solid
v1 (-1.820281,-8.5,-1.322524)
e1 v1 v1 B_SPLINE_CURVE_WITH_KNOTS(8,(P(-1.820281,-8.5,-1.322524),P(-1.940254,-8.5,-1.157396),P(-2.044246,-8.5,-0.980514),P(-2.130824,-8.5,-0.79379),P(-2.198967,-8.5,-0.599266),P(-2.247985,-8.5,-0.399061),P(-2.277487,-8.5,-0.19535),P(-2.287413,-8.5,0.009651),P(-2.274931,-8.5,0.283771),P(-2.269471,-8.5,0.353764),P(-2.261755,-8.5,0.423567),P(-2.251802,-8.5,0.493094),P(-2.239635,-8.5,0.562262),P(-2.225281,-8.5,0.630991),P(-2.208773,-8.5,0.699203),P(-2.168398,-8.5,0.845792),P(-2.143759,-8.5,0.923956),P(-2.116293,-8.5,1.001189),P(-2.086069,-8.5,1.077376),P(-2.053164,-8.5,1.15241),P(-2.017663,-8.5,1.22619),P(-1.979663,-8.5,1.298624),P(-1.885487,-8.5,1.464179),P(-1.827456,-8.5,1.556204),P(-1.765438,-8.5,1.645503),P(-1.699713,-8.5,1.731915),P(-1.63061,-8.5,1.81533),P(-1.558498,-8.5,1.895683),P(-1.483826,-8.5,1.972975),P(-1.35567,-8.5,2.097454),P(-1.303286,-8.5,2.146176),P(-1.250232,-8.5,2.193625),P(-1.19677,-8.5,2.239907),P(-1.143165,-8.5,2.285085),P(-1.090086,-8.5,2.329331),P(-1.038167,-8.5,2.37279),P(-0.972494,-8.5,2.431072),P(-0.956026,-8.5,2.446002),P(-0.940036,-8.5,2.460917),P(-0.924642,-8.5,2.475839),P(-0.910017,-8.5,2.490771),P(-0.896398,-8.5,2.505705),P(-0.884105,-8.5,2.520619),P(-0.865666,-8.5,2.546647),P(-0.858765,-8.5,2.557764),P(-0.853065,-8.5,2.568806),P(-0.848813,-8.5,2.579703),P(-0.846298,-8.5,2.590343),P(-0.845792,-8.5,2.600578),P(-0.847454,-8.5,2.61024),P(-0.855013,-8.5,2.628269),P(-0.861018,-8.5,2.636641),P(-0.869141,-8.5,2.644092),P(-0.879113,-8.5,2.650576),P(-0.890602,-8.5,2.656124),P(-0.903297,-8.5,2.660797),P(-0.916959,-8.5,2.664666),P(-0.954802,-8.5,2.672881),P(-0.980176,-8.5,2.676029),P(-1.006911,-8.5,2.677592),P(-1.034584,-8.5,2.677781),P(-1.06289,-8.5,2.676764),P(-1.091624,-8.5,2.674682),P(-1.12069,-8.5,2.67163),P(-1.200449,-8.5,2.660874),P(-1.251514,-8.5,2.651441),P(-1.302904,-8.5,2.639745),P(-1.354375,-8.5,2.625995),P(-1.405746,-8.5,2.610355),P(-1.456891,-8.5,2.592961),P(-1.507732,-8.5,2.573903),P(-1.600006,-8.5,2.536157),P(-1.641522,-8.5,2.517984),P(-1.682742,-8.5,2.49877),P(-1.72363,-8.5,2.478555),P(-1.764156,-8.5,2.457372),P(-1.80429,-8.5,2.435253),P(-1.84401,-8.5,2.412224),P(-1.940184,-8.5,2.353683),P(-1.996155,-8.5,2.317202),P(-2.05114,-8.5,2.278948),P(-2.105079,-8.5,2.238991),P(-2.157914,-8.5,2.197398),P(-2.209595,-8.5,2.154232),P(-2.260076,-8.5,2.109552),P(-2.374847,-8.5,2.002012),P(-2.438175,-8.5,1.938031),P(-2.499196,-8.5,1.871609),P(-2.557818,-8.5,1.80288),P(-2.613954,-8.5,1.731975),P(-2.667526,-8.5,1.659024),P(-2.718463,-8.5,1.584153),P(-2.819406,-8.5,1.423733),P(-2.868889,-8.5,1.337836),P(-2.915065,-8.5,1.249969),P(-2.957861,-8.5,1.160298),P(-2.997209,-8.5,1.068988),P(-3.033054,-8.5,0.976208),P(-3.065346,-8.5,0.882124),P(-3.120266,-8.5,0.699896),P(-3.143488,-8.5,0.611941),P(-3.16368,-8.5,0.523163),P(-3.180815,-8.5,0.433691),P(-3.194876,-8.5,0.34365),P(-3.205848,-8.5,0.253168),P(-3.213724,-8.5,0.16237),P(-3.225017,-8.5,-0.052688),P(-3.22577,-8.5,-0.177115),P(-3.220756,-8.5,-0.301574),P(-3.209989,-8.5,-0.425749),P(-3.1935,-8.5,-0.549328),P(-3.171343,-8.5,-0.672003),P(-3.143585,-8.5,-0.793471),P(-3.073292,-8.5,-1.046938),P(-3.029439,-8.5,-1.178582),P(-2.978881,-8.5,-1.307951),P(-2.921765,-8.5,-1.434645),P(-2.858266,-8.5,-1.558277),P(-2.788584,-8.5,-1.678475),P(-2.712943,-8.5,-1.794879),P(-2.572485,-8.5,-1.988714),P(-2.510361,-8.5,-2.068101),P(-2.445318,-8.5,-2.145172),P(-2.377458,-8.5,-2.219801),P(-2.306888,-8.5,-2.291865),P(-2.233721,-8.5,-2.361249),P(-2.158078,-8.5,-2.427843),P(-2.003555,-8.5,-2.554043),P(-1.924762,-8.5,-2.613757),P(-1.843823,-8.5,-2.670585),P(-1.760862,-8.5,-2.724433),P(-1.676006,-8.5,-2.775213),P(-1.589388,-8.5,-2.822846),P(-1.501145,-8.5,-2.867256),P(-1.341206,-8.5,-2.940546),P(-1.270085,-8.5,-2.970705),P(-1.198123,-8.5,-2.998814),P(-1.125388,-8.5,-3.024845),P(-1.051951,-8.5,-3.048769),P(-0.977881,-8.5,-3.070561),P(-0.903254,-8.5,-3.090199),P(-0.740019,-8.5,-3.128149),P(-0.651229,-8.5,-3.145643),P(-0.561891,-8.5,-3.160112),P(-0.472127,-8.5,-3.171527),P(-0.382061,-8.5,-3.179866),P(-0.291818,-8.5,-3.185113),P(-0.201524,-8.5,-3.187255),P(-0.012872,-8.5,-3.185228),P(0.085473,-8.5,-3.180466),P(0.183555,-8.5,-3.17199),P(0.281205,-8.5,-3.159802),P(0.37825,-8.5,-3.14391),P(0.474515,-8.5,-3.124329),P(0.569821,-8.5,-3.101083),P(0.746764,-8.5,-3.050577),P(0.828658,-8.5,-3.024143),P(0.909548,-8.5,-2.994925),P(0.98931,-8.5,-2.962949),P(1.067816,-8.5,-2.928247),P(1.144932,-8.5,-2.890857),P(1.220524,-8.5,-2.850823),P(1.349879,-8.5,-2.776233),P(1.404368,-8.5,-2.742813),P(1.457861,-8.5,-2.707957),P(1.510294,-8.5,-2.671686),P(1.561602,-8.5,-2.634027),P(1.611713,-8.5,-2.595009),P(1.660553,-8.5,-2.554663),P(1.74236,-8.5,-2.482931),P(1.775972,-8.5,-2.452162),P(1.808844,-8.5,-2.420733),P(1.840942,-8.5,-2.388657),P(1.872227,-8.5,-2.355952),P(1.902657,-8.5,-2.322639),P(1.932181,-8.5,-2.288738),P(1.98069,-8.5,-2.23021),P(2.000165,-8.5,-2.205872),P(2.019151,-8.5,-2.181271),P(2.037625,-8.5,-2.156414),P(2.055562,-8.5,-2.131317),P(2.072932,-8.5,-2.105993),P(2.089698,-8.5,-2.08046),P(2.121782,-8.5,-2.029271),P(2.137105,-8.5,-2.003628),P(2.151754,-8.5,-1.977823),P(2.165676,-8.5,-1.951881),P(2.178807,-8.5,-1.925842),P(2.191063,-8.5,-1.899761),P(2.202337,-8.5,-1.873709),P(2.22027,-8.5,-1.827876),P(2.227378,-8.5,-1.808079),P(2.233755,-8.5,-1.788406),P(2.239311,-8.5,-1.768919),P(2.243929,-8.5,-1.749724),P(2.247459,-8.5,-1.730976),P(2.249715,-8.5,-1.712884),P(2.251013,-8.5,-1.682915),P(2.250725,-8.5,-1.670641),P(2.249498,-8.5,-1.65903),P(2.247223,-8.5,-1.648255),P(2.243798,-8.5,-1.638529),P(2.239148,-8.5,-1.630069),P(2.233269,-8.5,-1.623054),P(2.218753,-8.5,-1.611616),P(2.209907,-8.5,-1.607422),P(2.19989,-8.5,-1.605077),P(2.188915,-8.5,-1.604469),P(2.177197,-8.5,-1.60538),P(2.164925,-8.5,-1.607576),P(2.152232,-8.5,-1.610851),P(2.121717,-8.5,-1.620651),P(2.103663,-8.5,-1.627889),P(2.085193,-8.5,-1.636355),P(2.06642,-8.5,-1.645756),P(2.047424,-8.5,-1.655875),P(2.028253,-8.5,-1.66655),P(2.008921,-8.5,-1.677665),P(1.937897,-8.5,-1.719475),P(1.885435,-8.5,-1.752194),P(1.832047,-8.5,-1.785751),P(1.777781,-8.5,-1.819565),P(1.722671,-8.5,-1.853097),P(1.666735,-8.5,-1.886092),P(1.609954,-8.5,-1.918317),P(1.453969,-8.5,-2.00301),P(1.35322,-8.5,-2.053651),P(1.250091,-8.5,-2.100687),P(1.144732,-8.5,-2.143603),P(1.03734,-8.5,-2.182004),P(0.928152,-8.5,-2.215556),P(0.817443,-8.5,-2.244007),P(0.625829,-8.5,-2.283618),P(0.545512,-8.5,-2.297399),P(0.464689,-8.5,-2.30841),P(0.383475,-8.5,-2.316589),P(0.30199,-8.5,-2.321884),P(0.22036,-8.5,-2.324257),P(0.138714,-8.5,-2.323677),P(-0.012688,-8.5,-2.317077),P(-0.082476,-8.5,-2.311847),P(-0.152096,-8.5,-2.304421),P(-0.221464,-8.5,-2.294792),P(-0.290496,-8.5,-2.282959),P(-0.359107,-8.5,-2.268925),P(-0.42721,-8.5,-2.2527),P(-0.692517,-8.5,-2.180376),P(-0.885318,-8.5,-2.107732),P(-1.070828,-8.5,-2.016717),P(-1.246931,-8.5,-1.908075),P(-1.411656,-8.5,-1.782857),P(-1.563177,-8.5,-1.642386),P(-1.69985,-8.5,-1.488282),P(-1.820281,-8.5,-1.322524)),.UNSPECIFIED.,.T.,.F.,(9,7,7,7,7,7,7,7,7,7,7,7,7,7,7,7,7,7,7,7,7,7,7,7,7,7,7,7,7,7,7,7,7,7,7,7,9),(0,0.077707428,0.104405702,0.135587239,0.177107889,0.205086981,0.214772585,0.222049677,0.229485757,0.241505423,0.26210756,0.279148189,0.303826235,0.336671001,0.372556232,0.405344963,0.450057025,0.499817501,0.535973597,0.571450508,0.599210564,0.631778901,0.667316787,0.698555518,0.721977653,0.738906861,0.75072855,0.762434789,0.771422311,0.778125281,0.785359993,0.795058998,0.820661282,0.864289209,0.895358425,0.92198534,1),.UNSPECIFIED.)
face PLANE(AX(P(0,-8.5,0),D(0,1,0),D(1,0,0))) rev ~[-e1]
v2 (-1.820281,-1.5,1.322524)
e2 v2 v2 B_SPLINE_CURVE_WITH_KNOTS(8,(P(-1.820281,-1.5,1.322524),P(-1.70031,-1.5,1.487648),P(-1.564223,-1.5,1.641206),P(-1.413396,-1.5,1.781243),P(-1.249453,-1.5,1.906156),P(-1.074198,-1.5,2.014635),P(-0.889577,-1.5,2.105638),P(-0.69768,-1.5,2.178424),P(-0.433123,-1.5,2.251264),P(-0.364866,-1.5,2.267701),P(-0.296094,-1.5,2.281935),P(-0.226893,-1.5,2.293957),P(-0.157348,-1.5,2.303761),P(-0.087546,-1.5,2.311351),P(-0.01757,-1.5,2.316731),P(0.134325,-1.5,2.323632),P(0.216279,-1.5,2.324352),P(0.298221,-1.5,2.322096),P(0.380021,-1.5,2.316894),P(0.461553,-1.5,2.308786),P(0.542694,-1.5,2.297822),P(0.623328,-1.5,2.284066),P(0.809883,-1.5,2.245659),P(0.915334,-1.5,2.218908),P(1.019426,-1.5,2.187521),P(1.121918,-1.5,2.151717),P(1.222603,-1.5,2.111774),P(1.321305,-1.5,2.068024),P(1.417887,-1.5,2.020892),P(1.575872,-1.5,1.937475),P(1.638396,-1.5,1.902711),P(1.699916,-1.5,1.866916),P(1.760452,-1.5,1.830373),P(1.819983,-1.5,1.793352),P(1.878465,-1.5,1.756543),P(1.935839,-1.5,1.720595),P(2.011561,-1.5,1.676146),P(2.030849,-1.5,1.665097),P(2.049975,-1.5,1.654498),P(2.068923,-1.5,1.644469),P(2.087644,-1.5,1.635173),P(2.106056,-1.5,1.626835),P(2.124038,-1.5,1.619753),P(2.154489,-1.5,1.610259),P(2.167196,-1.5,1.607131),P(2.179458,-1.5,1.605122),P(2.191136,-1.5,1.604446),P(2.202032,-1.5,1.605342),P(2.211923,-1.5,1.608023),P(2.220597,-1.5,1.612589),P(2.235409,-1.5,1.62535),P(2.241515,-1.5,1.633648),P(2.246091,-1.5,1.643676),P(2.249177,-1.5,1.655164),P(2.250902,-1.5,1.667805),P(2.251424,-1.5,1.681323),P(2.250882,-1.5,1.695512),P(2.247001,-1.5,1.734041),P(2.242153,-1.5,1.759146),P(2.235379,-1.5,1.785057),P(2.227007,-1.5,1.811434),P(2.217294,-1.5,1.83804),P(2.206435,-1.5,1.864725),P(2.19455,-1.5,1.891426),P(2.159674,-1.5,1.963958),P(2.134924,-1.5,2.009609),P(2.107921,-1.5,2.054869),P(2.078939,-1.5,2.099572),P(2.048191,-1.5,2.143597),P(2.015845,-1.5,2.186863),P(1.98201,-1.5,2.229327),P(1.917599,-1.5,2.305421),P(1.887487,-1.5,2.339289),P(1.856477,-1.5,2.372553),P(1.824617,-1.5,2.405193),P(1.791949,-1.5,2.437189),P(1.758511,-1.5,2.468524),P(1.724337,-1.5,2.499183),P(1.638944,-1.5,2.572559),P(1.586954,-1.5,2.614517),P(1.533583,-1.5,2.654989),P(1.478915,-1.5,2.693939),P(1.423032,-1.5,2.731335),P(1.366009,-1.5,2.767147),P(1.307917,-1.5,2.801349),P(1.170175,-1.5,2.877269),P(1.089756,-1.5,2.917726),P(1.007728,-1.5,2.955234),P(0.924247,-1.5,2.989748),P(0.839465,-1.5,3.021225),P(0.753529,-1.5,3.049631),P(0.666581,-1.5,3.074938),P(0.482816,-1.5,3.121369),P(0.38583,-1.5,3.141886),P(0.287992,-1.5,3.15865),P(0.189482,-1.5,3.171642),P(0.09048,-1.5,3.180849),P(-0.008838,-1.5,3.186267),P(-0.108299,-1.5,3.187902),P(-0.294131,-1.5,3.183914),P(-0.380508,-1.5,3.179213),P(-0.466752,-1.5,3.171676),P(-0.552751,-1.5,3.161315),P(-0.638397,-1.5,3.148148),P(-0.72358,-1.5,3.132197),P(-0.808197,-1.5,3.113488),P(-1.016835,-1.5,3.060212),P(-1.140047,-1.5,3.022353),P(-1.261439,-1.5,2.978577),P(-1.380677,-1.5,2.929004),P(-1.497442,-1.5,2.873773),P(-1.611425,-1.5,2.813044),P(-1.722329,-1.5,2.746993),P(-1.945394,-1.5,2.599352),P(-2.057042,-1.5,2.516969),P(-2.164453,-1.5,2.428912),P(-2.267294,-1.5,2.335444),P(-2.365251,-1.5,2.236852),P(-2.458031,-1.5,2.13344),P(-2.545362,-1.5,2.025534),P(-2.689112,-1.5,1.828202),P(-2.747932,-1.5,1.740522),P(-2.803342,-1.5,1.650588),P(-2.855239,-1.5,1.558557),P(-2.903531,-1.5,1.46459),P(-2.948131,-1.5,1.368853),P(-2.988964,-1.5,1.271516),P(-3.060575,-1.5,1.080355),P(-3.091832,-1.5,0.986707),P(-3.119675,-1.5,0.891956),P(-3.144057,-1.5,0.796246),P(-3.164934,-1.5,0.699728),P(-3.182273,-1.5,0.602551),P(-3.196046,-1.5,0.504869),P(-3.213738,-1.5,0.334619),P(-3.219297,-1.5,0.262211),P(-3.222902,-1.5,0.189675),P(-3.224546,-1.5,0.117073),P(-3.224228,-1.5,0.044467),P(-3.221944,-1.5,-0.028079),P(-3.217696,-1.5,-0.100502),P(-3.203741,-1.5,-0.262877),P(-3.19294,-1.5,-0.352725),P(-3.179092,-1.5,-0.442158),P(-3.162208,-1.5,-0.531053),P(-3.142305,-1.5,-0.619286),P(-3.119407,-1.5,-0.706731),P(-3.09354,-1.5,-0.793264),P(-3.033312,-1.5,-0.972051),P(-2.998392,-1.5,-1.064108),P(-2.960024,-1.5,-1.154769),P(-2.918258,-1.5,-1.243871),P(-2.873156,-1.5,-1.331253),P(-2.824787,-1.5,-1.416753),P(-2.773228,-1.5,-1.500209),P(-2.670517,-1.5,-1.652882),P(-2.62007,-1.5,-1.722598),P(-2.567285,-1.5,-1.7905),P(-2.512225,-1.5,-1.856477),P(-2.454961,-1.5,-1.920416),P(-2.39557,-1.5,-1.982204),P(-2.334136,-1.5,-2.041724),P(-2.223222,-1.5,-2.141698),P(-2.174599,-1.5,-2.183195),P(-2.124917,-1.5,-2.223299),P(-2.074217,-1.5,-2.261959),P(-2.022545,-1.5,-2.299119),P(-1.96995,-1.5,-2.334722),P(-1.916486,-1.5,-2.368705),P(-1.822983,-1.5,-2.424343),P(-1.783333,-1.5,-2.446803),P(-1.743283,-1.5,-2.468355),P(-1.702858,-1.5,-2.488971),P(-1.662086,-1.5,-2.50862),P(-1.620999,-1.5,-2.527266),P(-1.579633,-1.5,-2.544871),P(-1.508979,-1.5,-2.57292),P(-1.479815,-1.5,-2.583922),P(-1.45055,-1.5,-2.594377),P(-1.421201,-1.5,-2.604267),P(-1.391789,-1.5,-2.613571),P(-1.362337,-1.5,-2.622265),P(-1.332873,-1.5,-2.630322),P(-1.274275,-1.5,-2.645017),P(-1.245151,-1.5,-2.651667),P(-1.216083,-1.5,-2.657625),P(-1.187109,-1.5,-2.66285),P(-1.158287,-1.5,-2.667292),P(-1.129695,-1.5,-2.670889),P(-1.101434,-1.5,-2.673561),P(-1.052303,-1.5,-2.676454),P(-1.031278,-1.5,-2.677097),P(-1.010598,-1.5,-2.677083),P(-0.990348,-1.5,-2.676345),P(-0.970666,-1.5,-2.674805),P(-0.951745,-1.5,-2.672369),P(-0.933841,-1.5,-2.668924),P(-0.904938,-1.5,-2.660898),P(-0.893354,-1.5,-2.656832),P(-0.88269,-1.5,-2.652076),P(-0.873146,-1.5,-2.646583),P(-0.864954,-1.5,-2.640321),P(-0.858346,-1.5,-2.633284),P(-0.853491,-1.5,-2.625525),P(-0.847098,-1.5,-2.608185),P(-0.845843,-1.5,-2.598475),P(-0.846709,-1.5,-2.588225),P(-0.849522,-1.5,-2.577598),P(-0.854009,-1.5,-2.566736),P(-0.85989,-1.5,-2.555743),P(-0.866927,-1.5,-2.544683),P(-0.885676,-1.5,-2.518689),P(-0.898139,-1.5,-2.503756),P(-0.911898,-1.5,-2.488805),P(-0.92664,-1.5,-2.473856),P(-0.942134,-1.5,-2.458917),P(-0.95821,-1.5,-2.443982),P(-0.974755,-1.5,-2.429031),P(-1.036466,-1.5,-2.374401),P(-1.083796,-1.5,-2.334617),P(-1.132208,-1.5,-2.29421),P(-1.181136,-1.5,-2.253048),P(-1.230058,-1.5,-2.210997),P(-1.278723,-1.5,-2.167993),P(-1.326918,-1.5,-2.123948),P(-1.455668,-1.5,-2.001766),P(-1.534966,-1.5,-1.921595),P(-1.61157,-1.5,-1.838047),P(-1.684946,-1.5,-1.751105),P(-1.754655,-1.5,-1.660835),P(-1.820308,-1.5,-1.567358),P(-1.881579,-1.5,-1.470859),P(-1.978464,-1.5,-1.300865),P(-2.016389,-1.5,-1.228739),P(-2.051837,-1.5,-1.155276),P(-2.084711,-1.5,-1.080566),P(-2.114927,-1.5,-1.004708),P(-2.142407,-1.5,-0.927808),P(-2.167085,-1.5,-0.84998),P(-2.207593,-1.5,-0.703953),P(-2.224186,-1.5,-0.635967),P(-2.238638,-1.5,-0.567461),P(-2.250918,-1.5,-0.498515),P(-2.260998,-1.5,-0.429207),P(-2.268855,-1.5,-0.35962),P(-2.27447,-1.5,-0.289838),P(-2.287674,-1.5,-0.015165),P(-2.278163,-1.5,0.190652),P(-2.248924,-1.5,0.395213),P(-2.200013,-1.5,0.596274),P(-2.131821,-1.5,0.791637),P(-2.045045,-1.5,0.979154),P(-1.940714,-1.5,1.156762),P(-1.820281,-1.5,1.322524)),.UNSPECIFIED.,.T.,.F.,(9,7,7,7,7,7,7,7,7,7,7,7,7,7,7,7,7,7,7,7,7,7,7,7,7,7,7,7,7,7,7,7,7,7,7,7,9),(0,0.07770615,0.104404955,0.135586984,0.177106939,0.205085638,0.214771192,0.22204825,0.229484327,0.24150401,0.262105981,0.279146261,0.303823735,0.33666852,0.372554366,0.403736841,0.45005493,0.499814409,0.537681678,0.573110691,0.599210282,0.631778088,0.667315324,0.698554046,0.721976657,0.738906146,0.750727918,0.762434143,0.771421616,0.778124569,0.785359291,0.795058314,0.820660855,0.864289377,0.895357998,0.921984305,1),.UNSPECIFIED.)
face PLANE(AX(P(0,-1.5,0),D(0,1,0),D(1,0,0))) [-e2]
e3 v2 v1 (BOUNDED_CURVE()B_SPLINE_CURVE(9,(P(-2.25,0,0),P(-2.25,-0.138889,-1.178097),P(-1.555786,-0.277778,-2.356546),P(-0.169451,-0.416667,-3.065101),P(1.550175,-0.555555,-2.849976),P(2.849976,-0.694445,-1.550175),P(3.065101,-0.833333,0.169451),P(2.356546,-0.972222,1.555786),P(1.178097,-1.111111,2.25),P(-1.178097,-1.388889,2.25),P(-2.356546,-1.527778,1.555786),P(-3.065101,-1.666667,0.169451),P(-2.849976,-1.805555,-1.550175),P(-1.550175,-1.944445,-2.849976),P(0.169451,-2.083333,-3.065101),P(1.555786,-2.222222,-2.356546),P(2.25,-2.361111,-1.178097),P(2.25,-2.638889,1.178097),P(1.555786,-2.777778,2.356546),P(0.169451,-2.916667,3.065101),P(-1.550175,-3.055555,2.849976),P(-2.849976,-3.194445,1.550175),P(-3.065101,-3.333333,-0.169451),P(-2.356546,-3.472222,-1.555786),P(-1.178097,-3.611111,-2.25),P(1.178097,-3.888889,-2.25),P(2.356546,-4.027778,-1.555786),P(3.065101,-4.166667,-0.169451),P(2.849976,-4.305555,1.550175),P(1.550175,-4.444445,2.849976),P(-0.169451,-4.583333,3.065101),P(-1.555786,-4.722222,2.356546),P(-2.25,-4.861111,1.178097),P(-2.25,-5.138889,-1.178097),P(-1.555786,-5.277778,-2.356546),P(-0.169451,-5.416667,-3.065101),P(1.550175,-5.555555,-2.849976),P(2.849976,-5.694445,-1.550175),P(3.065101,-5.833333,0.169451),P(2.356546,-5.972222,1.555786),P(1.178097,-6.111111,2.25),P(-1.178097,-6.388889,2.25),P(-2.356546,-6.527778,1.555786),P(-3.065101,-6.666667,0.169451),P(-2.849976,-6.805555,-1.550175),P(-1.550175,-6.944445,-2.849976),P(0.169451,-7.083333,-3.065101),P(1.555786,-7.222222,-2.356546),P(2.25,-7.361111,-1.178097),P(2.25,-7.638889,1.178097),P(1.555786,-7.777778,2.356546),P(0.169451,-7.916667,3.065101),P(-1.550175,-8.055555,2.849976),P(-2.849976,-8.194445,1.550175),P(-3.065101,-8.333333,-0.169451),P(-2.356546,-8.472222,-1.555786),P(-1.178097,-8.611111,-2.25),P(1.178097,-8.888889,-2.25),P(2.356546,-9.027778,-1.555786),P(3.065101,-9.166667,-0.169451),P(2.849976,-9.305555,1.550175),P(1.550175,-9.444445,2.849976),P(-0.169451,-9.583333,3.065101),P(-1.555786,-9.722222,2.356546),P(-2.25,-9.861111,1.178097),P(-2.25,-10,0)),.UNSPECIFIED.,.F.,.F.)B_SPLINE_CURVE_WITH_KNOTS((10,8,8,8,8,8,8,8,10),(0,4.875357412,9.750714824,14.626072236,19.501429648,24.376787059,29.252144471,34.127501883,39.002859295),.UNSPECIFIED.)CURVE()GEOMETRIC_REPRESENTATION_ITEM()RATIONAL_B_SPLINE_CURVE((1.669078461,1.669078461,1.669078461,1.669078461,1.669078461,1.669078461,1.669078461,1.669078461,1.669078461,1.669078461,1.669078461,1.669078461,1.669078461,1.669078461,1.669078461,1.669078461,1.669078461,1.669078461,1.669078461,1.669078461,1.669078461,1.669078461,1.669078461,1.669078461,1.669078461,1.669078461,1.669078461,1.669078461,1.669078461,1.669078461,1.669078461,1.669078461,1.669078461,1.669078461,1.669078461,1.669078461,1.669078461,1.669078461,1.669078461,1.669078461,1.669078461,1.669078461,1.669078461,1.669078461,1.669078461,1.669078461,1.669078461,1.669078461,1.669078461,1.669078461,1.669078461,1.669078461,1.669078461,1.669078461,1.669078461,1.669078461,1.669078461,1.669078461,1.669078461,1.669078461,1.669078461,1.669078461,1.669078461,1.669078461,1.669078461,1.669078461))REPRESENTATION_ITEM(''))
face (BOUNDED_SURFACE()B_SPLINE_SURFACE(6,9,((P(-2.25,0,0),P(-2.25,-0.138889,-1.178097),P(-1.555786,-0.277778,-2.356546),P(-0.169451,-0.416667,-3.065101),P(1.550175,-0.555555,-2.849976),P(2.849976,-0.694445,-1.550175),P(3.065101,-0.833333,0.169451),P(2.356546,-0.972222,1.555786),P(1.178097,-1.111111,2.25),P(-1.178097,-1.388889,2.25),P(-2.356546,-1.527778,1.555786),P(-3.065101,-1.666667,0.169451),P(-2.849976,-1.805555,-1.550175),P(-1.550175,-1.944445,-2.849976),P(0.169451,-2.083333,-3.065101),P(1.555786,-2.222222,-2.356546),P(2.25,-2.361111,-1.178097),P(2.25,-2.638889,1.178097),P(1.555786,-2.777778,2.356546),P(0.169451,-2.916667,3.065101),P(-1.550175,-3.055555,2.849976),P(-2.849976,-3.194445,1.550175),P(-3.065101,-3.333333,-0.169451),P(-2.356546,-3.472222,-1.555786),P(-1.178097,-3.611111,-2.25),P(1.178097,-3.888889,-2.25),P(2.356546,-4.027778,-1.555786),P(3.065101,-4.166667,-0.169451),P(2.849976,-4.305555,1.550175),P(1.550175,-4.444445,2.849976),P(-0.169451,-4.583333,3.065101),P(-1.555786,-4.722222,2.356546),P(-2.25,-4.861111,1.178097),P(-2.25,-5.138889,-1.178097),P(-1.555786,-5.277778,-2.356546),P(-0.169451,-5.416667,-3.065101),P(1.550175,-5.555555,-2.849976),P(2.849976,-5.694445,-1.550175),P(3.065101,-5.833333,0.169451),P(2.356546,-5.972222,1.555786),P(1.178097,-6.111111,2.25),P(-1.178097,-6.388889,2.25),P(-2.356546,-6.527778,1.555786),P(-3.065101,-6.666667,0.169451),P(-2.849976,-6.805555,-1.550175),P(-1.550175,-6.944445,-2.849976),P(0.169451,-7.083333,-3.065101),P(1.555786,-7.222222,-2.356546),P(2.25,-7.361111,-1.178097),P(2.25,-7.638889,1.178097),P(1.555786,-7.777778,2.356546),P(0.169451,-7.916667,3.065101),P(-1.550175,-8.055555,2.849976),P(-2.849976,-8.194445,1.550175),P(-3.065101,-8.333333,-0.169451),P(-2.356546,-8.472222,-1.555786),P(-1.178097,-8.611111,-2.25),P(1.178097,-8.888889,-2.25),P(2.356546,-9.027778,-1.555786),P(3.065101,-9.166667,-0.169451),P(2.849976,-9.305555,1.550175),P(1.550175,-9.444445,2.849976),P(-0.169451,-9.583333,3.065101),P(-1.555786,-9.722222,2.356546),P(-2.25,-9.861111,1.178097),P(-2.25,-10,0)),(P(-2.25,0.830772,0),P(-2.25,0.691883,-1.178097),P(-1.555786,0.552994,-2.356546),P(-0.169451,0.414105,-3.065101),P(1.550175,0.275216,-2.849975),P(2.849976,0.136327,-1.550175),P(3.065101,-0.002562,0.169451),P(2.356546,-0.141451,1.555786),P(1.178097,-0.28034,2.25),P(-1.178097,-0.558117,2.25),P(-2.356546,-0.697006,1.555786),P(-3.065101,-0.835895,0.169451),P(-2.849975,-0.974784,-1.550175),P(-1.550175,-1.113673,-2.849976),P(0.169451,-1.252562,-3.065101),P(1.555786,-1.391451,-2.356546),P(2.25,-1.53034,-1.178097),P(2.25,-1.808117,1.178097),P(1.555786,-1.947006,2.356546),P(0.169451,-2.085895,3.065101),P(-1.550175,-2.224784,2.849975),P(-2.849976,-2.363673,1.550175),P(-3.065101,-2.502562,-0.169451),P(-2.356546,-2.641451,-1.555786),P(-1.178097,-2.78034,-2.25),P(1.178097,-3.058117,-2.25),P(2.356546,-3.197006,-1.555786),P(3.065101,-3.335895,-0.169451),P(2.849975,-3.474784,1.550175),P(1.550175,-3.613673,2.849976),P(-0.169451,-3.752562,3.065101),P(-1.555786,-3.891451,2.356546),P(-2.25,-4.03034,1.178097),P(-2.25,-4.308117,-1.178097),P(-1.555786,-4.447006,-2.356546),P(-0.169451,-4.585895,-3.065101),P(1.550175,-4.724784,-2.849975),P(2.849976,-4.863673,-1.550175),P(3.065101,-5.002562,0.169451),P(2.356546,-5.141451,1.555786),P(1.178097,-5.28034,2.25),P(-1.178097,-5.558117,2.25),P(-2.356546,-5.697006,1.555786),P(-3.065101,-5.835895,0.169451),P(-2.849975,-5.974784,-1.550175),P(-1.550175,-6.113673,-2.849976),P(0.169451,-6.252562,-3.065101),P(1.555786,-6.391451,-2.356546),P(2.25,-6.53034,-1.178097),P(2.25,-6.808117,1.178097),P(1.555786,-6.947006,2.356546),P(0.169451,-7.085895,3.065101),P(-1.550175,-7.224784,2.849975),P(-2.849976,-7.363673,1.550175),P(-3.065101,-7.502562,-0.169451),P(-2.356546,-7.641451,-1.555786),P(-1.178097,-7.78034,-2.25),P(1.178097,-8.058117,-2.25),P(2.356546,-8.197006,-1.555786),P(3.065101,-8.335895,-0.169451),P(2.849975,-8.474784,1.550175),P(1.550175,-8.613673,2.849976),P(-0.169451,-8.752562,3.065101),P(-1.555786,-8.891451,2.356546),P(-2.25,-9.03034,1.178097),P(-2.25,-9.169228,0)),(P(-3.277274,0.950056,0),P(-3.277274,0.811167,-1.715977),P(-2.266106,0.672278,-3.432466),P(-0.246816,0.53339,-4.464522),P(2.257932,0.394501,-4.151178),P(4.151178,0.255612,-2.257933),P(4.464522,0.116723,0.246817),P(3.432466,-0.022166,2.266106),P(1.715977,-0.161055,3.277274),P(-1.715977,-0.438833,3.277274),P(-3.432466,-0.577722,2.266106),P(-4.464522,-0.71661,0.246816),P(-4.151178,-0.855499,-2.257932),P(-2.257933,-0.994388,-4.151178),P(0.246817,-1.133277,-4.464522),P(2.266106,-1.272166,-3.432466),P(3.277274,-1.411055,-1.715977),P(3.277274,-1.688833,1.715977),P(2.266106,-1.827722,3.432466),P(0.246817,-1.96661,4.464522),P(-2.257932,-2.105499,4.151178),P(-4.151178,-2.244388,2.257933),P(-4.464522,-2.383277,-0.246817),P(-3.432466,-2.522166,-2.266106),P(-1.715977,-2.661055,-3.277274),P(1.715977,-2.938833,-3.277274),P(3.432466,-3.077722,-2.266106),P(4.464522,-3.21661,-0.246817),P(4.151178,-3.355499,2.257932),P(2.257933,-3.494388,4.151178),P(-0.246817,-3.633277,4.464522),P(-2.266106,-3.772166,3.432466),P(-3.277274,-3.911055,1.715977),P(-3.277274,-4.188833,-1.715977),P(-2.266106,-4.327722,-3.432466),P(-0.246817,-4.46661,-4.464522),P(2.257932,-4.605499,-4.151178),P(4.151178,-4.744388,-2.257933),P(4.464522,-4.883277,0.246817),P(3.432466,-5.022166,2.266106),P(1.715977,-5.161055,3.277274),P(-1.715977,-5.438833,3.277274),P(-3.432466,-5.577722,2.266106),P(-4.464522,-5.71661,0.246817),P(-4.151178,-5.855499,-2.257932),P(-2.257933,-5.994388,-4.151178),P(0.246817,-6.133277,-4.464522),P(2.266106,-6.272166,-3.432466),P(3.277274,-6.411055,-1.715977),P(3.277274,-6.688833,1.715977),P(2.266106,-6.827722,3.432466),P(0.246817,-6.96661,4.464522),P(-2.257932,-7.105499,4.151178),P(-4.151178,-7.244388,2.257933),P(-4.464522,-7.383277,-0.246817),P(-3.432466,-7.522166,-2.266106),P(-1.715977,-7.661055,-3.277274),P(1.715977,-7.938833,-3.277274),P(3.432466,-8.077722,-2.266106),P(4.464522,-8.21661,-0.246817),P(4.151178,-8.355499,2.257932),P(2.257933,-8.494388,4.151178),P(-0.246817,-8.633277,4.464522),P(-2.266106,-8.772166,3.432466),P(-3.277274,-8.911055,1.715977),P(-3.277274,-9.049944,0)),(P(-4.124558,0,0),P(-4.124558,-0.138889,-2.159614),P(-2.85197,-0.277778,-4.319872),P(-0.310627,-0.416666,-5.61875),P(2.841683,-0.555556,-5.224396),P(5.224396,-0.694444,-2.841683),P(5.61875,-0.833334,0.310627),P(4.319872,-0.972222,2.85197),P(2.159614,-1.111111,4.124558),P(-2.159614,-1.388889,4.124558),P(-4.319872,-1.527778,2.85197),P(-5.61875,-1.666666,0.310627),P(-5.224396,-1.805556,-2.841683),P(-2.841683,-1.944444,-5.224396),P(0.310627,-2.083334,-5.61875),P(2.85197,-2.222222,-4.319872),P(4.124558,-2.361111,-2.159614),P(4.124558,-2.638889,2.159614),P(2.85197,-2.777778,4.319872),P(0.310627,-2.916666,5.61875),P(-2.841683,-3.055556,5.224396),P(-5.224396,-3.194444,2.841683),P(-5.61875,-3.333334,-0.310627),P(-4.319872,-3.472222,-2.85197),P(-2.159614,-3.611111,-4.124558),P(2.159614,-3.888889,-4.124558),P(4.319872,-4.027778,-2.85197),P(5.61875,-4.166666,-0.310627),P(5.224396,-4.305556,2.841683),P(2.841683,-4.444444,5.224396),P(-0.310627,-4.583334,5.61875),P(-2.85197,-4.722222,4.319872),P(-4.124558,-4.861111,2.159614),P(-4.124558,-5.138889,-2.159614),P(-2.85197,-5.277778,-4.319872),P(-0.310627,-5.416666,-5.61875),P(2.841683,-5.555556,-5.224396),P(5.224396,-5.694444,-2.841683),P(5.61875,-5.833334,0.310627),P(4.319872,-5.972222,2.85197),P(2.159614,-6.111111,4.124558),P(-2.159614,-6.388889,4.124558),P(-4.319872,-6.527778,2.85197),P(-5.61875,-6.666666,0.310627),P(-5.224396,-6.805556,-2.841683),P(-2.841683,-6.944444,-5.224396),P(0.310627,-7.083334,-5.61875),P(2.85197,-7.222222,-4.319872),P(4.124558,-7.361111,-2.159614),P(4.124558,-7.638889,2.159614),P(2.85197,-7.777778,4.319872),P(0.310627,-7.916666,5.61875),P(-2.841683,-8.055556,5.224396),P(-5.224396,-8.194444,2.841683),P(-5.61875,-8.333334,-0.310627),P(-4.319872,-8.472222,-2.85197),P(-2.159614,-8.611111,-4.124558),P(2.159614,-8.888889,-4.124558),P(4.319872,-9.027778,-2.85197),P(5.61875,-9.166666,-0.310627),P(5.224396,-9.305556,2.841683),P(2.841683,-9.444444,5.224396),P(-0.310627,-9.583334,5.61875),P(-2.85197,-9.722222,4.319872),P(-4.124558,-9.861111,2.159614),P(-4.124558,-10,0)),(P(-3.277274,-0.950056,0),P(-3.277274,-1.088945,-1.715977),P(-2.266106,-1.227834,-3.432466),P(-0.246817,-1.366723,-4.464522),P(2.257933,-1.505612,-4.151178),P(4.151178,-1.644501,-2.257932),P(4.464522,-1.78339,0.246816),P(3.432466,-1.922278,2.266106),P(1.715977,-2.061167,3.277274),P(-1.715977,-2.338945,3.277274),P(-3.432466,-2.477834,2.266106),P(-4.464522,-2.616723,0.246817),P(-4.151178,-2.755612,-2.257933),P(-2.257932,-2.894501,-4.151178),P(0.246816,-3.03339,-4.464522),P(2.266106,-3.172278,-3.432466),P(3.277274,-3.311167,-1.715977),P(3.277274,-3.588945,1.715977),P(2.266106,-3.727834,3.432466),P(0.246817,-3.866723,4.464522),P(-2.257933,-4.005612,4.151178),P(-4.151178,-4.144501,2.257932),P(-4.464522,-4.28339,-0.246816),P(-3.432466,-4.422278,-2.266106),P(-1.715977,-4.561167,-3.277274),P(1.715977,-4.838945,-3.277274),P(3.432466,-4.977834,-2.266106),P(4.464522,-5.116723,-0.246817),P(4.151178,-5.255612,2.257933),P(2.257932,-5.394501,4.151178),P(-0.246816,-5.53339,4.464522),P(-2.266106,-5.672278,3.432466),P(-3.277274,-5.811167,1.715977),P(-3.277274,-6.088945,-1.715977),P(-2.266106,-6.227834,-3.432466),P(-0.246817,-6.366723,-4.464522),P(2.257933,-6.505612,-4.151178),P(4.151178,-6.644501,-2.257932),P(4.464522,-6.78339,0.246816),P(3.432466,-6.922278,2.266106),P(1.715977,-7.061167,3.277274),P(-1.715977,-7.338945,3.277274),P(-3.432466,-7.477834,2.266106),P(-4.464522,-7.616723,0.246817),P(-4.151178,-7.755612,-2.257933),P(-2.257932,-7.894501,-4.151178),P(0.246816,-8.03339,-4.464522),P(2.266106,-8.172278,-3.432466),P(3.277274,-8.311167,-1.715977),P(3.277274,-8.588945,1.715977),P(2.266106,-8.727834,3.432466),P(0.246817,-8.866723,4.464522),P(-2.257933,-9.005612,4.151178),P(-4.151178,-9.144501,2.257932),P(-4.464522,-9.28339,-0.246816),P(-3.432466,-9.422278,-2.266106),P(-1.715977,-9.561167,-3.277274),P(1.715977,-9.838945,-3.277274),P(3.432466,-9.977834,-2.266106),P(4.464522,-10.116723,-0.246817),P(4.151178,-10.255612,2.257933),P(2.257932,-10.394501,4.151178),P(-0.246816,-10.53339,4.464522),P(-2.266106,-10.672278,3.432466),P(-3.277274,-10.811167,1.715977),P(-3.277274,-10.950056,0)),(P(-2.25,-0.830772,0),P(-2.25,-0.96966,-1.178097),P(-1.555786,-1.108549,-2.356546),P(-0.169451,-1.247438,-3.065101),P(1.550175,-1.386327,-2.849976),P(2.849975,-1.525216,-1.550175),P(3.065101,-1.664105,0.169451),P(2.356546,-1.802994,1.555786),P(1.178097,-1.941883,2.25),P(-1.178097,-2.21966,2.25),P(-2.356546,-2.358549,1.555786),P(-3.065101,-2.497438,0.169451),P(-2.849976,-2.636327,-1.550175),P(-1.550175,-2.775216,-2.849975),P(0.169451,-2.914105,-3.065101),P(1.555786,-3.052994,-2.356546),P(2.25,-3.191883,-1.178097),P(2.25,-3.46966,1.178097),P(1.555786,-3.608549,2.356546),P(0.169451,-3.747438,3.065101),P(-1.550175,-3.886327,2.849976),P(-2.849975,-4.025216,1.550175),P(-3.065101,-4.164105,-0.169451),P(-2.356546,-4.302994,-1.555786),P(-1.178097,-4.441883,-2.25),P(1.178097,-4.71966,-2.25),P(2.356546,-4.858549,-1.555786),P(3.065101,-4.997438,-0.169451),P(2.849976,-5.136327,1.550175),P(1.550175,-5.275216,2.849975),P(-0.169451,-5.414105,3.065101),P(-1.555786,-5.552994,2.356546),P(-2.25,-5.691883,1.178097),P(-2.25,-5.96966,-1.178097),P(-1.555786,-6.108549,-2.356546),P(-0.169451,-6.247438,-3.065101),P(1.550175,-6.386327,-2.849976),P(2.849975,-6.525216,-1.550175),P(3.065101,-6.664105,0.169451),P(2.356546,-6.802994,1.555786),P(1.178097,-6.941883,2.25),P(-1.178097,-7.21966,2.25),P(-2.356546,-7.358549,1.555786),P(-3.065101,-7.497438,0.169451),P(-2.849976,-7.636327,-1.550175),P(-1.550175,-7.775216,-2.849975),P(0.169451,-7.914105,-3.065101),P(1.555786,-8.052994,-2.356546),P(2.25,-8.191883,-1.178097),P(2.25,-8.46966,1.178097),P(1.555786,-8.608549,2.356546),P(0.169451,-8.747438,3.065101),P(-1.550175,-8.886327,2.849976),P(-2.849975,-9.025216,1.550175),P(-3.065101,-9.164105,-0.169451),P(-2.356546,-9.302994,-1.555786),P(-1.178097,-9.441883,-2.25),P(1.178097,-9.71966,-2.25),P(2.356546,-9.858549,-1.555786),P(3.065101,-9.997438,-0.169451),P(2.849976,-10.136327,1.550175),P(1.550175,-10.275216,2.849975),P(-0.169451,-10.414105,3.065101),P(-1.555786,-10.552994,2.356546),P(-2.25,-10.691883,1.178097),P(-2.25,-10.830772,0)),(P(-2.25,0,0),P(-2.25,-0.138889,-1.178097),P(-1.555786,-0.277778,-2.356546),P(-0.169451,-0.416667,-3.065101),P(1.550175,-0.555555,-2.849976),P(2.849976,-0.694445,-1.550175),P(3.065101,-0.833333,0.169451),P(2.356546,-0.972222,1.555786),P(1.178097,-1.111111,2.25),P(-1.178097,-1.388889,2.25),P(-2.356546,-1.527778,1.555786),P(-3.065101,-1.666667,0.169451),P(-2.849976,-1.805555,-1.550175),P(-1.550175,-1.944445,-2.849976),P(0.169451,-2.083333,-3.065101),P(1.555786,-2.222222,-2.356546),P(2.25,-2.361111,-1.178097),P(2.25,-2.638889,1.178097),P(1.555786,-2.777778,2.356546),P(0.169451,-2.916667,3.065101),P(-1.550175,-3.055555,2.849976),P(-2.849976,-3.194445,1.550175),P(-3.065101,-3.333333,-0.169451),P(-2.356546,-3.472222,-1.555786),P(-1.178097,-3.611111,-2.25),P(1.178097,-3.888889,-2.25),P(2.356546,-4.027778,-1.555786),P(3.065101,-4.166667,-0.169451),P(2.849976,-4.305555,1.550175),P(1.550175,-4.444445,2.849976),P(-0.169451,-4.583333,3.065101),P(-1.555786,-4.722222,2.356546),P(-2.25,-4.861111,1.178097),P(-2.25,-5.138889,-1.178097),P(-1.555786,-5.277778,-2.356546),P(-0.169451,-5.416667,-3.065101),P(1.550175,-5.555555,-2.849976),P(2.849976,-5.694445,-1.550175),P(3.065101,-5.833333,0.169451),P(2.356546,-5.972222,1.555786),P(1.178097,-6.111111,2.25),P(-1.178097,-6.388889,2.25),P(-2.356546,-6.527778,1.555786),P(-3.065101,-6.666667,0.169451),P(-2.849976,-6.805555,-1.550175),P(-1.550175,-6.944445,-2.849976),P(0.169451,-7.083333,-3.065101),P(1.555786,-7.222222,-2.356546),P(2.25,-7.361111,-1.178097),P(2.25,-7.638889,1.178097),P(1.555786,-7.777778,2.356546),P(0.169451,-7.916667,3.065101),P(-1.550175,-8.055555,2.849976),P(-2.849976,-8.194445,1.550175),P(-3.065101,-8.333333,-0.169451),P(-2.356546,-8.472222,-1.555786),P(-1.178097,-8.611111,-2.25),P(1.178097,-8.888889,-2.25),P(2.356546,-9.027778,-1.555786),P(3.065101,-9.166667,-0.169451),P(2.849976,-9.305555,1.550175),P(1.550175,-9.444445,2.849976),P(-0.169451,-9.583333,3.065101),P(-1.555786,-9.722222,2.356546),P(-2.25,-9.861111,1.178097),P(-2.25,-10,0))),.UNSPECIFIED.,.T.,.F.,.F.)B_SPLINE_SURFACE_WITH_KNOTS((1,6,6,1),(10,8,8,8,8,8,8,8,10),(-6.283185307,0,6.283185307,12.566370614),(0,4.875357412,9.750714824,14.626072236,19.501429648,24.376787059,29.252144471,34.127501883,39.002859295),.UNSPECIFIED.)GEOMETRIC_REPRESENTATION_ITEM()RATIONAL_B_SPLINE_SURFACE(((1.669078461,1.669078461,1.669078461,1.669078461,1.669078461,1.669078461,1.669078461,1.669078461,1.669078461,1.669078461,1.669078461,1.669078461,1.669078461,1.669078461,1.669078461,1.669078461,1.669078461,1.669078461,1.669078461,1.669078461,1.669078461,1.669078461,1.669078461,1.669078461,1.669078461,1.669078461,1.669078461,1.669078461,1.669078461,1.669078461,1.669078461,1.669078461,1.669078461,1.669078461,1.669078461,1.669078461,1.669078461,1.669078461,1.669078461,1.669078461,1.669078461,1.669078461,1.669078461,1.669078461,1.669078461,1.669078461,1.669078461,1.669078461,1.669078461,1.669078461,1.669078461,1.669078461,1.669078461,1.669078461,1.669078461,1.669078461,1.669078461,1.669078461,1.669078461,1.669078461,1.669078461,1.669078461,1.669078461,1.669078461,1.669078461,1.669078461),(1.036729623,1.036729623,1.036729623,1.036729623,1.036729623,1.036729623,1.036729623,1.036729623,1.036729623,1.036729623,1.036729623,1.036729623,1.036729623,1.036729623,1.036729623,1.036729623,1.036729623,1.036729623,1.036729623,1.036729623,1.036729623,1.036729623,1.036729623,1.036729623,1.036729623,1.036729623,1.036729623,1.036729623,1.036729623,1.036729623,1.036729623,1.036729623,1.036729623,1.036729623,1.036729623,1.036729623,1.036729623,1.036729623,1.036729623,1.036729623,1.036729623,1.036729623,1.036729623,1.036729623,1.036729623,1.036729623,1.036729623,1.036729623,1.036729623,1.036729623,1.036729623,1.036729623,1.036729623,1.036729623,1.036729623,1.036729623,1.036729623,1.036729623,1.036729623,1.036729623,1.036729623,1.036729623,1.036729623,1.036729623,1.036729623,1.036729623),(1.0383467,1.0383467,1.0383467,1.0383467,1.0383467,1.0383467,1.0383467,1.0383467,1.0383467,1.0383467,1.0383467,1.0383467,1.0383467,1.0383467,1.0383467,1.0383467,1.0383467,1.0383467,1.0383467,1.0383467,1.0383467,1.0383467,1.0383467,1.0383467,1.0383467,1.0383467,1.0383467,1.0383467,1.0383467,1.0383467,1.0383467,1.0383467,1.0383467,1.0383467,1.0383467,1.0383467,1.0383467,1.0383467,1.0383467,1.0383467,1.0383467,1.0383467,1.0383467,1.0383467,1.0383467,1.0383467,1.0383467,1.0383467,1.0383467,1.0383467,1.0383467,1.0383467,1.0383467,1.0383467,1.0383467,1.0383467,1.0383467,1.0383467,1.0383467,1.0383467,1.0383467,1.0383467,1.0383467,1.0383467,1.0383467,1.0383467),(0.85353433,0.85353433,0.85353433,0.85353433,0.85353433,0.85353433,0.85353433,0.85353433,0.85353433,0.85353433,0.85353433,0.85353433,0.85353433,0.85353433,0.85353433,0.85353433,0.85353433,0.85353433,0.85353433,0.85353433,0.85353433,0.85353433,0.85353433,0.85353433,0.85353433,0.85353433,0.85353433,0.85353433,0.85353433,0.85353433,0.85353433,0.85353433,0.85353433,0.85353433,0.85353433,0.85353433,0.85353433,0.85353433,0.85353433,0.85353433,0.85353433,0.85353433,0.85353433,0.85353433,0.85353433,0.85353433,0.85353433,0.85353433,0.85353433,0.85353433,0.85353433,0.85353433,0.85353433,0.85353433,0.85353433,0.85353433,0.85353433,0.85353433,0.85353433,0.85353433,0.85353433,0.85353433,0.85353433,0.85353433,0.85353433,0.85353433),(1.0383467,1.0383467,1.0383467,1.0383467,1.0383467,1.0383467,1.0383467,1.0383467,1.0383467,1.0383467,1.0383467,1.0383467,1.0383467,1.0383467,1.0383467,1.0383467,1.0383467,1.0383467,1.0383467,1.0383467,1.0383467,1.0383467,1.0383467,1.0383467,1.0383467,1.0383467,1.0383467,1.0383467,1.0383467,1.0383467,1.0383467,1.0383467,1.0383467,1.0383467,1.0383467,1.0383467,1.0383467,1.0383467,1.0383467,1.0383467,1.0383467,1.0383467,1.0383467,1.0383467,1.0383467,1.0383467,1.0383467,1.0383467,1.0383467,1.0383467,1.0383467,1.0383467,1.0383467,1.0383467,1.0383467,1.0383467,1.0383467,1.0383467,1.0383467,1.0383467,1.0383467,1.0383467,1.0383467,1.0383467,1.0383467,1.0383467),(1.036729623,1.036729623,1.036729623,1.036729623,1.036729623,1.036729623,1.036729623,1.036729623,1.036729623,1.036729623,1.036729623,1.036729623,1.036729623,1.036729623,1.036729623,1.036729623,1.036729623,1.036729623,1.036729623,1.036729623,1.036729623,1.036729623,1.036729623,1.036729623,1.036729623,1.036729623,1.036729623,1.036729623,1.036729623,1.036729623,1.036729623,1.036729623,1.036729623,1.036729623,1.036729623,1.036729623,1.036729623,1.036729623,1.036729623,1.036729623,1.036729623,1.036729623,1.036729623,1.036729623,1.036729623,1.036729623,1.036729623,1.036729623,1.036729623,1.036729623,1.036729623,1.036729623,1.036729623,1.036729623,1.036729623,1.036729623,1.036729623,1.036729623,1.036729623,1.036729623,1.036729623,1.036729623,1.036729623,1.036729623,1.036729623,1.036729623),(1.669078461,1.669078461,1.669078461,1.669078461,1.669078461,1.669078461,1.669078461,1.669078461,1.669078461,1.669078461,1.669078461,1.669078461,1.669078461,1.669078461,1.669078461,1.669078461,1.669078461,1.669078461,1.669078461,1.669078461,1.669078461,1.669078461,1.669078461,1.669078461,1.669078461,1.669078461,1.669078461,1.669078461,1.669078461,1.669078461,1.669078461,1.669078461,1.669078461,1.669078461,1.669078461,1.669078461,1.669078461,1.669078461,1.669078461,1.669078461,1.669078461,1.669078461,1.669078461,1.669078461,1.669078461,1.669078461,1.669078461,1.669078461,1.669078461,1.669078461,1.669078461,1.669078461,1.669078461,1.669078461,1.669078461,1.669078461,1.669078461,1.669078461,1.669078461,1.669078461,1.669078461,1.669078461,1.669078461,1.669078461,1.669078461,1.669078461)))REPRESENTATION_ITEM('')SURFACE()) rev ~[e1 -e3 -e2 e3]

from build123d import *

# Parameters (mm, degrees)
SWEEP1_PITCH            = 1.666666667
SWEEP1_HEIGHT           = 10
SWEEP1_RADIUS           = 2.75
SWEEP1_START_ANGLE      = -90
SKETCH2_R               = 0.5
SKETCH3_W               = 8.183765968
SKETCH3_H               = 8.26155842
CUT_EXTRUDE1_DEPTH      = 1.5
CUT_EXTRUDE1_DEPTH_BACK = 1.5
CUT_EXTRUDE2_START      = -8.5
SKETCH3_3_W             = 8.183765968
SKETCH3_3_H             = 8.26155842
CUT_EXTRUDE2_DEPTH      = 11.5


with BuildPart() as part:
    # Sweep1: sweep along a helix
    with BuildLine() as sweep1_path:
        add(Helix(SWEEP1_PITCH, SWEEP1_HEIGHT, SWEEP1_RADIUS, center=(0, 0, 0), direction=(0, -1, 0), mode=Mode.PRIVATE).rotate(Axis((0, 0, 0), (0, -1, 0)), SWEEP1_START_ANGLE))
    # Sketch2 → Sweep1 (sweep)
    with BuildSketch(Plane.XY):
        with Locations((-2.75, 0)):
            Circle(SKETCH2_R)
    sweep(path=sweep1_path.line, is_frenet=True)

    # Sketch3 → Cut-Extrude1 (cut, two sides)
    with BuildSketch(Plane(origin=(0, 0, 0), x_dir=(1, 0, 0), z_dir=(0, 1, 0))) as cut_extrude1_sk:
        Rectangle(SKETCH3_W, SKETCH3_H)
    extrude(amount=CUT_EXTRUDE1_DEPTH, mode=Mode.SUBTRACT)
    extrude(cut_extrude1_sk.sketch, amount=-CUT_EXTRUDE1_DEPTH_BACK, mode=Mode.SUBTRACT)

    # Sketch3_3 → Cut-Extrude2 (cut)
    with BuildSketch(Plane(origin=(0, 0, 0), x_dir=(1, 0, 0), z_dir=(0, 1, 0)).offset(CUT_EXTRUDE2_START)):
        Rectangle(SKETCH3_3_W, SKETCH3_3_H)
    extrude(amount=-CUT_EXTRUDE2_DEPTH, mode=Mode.SUBTRACT)


solid = part.part
